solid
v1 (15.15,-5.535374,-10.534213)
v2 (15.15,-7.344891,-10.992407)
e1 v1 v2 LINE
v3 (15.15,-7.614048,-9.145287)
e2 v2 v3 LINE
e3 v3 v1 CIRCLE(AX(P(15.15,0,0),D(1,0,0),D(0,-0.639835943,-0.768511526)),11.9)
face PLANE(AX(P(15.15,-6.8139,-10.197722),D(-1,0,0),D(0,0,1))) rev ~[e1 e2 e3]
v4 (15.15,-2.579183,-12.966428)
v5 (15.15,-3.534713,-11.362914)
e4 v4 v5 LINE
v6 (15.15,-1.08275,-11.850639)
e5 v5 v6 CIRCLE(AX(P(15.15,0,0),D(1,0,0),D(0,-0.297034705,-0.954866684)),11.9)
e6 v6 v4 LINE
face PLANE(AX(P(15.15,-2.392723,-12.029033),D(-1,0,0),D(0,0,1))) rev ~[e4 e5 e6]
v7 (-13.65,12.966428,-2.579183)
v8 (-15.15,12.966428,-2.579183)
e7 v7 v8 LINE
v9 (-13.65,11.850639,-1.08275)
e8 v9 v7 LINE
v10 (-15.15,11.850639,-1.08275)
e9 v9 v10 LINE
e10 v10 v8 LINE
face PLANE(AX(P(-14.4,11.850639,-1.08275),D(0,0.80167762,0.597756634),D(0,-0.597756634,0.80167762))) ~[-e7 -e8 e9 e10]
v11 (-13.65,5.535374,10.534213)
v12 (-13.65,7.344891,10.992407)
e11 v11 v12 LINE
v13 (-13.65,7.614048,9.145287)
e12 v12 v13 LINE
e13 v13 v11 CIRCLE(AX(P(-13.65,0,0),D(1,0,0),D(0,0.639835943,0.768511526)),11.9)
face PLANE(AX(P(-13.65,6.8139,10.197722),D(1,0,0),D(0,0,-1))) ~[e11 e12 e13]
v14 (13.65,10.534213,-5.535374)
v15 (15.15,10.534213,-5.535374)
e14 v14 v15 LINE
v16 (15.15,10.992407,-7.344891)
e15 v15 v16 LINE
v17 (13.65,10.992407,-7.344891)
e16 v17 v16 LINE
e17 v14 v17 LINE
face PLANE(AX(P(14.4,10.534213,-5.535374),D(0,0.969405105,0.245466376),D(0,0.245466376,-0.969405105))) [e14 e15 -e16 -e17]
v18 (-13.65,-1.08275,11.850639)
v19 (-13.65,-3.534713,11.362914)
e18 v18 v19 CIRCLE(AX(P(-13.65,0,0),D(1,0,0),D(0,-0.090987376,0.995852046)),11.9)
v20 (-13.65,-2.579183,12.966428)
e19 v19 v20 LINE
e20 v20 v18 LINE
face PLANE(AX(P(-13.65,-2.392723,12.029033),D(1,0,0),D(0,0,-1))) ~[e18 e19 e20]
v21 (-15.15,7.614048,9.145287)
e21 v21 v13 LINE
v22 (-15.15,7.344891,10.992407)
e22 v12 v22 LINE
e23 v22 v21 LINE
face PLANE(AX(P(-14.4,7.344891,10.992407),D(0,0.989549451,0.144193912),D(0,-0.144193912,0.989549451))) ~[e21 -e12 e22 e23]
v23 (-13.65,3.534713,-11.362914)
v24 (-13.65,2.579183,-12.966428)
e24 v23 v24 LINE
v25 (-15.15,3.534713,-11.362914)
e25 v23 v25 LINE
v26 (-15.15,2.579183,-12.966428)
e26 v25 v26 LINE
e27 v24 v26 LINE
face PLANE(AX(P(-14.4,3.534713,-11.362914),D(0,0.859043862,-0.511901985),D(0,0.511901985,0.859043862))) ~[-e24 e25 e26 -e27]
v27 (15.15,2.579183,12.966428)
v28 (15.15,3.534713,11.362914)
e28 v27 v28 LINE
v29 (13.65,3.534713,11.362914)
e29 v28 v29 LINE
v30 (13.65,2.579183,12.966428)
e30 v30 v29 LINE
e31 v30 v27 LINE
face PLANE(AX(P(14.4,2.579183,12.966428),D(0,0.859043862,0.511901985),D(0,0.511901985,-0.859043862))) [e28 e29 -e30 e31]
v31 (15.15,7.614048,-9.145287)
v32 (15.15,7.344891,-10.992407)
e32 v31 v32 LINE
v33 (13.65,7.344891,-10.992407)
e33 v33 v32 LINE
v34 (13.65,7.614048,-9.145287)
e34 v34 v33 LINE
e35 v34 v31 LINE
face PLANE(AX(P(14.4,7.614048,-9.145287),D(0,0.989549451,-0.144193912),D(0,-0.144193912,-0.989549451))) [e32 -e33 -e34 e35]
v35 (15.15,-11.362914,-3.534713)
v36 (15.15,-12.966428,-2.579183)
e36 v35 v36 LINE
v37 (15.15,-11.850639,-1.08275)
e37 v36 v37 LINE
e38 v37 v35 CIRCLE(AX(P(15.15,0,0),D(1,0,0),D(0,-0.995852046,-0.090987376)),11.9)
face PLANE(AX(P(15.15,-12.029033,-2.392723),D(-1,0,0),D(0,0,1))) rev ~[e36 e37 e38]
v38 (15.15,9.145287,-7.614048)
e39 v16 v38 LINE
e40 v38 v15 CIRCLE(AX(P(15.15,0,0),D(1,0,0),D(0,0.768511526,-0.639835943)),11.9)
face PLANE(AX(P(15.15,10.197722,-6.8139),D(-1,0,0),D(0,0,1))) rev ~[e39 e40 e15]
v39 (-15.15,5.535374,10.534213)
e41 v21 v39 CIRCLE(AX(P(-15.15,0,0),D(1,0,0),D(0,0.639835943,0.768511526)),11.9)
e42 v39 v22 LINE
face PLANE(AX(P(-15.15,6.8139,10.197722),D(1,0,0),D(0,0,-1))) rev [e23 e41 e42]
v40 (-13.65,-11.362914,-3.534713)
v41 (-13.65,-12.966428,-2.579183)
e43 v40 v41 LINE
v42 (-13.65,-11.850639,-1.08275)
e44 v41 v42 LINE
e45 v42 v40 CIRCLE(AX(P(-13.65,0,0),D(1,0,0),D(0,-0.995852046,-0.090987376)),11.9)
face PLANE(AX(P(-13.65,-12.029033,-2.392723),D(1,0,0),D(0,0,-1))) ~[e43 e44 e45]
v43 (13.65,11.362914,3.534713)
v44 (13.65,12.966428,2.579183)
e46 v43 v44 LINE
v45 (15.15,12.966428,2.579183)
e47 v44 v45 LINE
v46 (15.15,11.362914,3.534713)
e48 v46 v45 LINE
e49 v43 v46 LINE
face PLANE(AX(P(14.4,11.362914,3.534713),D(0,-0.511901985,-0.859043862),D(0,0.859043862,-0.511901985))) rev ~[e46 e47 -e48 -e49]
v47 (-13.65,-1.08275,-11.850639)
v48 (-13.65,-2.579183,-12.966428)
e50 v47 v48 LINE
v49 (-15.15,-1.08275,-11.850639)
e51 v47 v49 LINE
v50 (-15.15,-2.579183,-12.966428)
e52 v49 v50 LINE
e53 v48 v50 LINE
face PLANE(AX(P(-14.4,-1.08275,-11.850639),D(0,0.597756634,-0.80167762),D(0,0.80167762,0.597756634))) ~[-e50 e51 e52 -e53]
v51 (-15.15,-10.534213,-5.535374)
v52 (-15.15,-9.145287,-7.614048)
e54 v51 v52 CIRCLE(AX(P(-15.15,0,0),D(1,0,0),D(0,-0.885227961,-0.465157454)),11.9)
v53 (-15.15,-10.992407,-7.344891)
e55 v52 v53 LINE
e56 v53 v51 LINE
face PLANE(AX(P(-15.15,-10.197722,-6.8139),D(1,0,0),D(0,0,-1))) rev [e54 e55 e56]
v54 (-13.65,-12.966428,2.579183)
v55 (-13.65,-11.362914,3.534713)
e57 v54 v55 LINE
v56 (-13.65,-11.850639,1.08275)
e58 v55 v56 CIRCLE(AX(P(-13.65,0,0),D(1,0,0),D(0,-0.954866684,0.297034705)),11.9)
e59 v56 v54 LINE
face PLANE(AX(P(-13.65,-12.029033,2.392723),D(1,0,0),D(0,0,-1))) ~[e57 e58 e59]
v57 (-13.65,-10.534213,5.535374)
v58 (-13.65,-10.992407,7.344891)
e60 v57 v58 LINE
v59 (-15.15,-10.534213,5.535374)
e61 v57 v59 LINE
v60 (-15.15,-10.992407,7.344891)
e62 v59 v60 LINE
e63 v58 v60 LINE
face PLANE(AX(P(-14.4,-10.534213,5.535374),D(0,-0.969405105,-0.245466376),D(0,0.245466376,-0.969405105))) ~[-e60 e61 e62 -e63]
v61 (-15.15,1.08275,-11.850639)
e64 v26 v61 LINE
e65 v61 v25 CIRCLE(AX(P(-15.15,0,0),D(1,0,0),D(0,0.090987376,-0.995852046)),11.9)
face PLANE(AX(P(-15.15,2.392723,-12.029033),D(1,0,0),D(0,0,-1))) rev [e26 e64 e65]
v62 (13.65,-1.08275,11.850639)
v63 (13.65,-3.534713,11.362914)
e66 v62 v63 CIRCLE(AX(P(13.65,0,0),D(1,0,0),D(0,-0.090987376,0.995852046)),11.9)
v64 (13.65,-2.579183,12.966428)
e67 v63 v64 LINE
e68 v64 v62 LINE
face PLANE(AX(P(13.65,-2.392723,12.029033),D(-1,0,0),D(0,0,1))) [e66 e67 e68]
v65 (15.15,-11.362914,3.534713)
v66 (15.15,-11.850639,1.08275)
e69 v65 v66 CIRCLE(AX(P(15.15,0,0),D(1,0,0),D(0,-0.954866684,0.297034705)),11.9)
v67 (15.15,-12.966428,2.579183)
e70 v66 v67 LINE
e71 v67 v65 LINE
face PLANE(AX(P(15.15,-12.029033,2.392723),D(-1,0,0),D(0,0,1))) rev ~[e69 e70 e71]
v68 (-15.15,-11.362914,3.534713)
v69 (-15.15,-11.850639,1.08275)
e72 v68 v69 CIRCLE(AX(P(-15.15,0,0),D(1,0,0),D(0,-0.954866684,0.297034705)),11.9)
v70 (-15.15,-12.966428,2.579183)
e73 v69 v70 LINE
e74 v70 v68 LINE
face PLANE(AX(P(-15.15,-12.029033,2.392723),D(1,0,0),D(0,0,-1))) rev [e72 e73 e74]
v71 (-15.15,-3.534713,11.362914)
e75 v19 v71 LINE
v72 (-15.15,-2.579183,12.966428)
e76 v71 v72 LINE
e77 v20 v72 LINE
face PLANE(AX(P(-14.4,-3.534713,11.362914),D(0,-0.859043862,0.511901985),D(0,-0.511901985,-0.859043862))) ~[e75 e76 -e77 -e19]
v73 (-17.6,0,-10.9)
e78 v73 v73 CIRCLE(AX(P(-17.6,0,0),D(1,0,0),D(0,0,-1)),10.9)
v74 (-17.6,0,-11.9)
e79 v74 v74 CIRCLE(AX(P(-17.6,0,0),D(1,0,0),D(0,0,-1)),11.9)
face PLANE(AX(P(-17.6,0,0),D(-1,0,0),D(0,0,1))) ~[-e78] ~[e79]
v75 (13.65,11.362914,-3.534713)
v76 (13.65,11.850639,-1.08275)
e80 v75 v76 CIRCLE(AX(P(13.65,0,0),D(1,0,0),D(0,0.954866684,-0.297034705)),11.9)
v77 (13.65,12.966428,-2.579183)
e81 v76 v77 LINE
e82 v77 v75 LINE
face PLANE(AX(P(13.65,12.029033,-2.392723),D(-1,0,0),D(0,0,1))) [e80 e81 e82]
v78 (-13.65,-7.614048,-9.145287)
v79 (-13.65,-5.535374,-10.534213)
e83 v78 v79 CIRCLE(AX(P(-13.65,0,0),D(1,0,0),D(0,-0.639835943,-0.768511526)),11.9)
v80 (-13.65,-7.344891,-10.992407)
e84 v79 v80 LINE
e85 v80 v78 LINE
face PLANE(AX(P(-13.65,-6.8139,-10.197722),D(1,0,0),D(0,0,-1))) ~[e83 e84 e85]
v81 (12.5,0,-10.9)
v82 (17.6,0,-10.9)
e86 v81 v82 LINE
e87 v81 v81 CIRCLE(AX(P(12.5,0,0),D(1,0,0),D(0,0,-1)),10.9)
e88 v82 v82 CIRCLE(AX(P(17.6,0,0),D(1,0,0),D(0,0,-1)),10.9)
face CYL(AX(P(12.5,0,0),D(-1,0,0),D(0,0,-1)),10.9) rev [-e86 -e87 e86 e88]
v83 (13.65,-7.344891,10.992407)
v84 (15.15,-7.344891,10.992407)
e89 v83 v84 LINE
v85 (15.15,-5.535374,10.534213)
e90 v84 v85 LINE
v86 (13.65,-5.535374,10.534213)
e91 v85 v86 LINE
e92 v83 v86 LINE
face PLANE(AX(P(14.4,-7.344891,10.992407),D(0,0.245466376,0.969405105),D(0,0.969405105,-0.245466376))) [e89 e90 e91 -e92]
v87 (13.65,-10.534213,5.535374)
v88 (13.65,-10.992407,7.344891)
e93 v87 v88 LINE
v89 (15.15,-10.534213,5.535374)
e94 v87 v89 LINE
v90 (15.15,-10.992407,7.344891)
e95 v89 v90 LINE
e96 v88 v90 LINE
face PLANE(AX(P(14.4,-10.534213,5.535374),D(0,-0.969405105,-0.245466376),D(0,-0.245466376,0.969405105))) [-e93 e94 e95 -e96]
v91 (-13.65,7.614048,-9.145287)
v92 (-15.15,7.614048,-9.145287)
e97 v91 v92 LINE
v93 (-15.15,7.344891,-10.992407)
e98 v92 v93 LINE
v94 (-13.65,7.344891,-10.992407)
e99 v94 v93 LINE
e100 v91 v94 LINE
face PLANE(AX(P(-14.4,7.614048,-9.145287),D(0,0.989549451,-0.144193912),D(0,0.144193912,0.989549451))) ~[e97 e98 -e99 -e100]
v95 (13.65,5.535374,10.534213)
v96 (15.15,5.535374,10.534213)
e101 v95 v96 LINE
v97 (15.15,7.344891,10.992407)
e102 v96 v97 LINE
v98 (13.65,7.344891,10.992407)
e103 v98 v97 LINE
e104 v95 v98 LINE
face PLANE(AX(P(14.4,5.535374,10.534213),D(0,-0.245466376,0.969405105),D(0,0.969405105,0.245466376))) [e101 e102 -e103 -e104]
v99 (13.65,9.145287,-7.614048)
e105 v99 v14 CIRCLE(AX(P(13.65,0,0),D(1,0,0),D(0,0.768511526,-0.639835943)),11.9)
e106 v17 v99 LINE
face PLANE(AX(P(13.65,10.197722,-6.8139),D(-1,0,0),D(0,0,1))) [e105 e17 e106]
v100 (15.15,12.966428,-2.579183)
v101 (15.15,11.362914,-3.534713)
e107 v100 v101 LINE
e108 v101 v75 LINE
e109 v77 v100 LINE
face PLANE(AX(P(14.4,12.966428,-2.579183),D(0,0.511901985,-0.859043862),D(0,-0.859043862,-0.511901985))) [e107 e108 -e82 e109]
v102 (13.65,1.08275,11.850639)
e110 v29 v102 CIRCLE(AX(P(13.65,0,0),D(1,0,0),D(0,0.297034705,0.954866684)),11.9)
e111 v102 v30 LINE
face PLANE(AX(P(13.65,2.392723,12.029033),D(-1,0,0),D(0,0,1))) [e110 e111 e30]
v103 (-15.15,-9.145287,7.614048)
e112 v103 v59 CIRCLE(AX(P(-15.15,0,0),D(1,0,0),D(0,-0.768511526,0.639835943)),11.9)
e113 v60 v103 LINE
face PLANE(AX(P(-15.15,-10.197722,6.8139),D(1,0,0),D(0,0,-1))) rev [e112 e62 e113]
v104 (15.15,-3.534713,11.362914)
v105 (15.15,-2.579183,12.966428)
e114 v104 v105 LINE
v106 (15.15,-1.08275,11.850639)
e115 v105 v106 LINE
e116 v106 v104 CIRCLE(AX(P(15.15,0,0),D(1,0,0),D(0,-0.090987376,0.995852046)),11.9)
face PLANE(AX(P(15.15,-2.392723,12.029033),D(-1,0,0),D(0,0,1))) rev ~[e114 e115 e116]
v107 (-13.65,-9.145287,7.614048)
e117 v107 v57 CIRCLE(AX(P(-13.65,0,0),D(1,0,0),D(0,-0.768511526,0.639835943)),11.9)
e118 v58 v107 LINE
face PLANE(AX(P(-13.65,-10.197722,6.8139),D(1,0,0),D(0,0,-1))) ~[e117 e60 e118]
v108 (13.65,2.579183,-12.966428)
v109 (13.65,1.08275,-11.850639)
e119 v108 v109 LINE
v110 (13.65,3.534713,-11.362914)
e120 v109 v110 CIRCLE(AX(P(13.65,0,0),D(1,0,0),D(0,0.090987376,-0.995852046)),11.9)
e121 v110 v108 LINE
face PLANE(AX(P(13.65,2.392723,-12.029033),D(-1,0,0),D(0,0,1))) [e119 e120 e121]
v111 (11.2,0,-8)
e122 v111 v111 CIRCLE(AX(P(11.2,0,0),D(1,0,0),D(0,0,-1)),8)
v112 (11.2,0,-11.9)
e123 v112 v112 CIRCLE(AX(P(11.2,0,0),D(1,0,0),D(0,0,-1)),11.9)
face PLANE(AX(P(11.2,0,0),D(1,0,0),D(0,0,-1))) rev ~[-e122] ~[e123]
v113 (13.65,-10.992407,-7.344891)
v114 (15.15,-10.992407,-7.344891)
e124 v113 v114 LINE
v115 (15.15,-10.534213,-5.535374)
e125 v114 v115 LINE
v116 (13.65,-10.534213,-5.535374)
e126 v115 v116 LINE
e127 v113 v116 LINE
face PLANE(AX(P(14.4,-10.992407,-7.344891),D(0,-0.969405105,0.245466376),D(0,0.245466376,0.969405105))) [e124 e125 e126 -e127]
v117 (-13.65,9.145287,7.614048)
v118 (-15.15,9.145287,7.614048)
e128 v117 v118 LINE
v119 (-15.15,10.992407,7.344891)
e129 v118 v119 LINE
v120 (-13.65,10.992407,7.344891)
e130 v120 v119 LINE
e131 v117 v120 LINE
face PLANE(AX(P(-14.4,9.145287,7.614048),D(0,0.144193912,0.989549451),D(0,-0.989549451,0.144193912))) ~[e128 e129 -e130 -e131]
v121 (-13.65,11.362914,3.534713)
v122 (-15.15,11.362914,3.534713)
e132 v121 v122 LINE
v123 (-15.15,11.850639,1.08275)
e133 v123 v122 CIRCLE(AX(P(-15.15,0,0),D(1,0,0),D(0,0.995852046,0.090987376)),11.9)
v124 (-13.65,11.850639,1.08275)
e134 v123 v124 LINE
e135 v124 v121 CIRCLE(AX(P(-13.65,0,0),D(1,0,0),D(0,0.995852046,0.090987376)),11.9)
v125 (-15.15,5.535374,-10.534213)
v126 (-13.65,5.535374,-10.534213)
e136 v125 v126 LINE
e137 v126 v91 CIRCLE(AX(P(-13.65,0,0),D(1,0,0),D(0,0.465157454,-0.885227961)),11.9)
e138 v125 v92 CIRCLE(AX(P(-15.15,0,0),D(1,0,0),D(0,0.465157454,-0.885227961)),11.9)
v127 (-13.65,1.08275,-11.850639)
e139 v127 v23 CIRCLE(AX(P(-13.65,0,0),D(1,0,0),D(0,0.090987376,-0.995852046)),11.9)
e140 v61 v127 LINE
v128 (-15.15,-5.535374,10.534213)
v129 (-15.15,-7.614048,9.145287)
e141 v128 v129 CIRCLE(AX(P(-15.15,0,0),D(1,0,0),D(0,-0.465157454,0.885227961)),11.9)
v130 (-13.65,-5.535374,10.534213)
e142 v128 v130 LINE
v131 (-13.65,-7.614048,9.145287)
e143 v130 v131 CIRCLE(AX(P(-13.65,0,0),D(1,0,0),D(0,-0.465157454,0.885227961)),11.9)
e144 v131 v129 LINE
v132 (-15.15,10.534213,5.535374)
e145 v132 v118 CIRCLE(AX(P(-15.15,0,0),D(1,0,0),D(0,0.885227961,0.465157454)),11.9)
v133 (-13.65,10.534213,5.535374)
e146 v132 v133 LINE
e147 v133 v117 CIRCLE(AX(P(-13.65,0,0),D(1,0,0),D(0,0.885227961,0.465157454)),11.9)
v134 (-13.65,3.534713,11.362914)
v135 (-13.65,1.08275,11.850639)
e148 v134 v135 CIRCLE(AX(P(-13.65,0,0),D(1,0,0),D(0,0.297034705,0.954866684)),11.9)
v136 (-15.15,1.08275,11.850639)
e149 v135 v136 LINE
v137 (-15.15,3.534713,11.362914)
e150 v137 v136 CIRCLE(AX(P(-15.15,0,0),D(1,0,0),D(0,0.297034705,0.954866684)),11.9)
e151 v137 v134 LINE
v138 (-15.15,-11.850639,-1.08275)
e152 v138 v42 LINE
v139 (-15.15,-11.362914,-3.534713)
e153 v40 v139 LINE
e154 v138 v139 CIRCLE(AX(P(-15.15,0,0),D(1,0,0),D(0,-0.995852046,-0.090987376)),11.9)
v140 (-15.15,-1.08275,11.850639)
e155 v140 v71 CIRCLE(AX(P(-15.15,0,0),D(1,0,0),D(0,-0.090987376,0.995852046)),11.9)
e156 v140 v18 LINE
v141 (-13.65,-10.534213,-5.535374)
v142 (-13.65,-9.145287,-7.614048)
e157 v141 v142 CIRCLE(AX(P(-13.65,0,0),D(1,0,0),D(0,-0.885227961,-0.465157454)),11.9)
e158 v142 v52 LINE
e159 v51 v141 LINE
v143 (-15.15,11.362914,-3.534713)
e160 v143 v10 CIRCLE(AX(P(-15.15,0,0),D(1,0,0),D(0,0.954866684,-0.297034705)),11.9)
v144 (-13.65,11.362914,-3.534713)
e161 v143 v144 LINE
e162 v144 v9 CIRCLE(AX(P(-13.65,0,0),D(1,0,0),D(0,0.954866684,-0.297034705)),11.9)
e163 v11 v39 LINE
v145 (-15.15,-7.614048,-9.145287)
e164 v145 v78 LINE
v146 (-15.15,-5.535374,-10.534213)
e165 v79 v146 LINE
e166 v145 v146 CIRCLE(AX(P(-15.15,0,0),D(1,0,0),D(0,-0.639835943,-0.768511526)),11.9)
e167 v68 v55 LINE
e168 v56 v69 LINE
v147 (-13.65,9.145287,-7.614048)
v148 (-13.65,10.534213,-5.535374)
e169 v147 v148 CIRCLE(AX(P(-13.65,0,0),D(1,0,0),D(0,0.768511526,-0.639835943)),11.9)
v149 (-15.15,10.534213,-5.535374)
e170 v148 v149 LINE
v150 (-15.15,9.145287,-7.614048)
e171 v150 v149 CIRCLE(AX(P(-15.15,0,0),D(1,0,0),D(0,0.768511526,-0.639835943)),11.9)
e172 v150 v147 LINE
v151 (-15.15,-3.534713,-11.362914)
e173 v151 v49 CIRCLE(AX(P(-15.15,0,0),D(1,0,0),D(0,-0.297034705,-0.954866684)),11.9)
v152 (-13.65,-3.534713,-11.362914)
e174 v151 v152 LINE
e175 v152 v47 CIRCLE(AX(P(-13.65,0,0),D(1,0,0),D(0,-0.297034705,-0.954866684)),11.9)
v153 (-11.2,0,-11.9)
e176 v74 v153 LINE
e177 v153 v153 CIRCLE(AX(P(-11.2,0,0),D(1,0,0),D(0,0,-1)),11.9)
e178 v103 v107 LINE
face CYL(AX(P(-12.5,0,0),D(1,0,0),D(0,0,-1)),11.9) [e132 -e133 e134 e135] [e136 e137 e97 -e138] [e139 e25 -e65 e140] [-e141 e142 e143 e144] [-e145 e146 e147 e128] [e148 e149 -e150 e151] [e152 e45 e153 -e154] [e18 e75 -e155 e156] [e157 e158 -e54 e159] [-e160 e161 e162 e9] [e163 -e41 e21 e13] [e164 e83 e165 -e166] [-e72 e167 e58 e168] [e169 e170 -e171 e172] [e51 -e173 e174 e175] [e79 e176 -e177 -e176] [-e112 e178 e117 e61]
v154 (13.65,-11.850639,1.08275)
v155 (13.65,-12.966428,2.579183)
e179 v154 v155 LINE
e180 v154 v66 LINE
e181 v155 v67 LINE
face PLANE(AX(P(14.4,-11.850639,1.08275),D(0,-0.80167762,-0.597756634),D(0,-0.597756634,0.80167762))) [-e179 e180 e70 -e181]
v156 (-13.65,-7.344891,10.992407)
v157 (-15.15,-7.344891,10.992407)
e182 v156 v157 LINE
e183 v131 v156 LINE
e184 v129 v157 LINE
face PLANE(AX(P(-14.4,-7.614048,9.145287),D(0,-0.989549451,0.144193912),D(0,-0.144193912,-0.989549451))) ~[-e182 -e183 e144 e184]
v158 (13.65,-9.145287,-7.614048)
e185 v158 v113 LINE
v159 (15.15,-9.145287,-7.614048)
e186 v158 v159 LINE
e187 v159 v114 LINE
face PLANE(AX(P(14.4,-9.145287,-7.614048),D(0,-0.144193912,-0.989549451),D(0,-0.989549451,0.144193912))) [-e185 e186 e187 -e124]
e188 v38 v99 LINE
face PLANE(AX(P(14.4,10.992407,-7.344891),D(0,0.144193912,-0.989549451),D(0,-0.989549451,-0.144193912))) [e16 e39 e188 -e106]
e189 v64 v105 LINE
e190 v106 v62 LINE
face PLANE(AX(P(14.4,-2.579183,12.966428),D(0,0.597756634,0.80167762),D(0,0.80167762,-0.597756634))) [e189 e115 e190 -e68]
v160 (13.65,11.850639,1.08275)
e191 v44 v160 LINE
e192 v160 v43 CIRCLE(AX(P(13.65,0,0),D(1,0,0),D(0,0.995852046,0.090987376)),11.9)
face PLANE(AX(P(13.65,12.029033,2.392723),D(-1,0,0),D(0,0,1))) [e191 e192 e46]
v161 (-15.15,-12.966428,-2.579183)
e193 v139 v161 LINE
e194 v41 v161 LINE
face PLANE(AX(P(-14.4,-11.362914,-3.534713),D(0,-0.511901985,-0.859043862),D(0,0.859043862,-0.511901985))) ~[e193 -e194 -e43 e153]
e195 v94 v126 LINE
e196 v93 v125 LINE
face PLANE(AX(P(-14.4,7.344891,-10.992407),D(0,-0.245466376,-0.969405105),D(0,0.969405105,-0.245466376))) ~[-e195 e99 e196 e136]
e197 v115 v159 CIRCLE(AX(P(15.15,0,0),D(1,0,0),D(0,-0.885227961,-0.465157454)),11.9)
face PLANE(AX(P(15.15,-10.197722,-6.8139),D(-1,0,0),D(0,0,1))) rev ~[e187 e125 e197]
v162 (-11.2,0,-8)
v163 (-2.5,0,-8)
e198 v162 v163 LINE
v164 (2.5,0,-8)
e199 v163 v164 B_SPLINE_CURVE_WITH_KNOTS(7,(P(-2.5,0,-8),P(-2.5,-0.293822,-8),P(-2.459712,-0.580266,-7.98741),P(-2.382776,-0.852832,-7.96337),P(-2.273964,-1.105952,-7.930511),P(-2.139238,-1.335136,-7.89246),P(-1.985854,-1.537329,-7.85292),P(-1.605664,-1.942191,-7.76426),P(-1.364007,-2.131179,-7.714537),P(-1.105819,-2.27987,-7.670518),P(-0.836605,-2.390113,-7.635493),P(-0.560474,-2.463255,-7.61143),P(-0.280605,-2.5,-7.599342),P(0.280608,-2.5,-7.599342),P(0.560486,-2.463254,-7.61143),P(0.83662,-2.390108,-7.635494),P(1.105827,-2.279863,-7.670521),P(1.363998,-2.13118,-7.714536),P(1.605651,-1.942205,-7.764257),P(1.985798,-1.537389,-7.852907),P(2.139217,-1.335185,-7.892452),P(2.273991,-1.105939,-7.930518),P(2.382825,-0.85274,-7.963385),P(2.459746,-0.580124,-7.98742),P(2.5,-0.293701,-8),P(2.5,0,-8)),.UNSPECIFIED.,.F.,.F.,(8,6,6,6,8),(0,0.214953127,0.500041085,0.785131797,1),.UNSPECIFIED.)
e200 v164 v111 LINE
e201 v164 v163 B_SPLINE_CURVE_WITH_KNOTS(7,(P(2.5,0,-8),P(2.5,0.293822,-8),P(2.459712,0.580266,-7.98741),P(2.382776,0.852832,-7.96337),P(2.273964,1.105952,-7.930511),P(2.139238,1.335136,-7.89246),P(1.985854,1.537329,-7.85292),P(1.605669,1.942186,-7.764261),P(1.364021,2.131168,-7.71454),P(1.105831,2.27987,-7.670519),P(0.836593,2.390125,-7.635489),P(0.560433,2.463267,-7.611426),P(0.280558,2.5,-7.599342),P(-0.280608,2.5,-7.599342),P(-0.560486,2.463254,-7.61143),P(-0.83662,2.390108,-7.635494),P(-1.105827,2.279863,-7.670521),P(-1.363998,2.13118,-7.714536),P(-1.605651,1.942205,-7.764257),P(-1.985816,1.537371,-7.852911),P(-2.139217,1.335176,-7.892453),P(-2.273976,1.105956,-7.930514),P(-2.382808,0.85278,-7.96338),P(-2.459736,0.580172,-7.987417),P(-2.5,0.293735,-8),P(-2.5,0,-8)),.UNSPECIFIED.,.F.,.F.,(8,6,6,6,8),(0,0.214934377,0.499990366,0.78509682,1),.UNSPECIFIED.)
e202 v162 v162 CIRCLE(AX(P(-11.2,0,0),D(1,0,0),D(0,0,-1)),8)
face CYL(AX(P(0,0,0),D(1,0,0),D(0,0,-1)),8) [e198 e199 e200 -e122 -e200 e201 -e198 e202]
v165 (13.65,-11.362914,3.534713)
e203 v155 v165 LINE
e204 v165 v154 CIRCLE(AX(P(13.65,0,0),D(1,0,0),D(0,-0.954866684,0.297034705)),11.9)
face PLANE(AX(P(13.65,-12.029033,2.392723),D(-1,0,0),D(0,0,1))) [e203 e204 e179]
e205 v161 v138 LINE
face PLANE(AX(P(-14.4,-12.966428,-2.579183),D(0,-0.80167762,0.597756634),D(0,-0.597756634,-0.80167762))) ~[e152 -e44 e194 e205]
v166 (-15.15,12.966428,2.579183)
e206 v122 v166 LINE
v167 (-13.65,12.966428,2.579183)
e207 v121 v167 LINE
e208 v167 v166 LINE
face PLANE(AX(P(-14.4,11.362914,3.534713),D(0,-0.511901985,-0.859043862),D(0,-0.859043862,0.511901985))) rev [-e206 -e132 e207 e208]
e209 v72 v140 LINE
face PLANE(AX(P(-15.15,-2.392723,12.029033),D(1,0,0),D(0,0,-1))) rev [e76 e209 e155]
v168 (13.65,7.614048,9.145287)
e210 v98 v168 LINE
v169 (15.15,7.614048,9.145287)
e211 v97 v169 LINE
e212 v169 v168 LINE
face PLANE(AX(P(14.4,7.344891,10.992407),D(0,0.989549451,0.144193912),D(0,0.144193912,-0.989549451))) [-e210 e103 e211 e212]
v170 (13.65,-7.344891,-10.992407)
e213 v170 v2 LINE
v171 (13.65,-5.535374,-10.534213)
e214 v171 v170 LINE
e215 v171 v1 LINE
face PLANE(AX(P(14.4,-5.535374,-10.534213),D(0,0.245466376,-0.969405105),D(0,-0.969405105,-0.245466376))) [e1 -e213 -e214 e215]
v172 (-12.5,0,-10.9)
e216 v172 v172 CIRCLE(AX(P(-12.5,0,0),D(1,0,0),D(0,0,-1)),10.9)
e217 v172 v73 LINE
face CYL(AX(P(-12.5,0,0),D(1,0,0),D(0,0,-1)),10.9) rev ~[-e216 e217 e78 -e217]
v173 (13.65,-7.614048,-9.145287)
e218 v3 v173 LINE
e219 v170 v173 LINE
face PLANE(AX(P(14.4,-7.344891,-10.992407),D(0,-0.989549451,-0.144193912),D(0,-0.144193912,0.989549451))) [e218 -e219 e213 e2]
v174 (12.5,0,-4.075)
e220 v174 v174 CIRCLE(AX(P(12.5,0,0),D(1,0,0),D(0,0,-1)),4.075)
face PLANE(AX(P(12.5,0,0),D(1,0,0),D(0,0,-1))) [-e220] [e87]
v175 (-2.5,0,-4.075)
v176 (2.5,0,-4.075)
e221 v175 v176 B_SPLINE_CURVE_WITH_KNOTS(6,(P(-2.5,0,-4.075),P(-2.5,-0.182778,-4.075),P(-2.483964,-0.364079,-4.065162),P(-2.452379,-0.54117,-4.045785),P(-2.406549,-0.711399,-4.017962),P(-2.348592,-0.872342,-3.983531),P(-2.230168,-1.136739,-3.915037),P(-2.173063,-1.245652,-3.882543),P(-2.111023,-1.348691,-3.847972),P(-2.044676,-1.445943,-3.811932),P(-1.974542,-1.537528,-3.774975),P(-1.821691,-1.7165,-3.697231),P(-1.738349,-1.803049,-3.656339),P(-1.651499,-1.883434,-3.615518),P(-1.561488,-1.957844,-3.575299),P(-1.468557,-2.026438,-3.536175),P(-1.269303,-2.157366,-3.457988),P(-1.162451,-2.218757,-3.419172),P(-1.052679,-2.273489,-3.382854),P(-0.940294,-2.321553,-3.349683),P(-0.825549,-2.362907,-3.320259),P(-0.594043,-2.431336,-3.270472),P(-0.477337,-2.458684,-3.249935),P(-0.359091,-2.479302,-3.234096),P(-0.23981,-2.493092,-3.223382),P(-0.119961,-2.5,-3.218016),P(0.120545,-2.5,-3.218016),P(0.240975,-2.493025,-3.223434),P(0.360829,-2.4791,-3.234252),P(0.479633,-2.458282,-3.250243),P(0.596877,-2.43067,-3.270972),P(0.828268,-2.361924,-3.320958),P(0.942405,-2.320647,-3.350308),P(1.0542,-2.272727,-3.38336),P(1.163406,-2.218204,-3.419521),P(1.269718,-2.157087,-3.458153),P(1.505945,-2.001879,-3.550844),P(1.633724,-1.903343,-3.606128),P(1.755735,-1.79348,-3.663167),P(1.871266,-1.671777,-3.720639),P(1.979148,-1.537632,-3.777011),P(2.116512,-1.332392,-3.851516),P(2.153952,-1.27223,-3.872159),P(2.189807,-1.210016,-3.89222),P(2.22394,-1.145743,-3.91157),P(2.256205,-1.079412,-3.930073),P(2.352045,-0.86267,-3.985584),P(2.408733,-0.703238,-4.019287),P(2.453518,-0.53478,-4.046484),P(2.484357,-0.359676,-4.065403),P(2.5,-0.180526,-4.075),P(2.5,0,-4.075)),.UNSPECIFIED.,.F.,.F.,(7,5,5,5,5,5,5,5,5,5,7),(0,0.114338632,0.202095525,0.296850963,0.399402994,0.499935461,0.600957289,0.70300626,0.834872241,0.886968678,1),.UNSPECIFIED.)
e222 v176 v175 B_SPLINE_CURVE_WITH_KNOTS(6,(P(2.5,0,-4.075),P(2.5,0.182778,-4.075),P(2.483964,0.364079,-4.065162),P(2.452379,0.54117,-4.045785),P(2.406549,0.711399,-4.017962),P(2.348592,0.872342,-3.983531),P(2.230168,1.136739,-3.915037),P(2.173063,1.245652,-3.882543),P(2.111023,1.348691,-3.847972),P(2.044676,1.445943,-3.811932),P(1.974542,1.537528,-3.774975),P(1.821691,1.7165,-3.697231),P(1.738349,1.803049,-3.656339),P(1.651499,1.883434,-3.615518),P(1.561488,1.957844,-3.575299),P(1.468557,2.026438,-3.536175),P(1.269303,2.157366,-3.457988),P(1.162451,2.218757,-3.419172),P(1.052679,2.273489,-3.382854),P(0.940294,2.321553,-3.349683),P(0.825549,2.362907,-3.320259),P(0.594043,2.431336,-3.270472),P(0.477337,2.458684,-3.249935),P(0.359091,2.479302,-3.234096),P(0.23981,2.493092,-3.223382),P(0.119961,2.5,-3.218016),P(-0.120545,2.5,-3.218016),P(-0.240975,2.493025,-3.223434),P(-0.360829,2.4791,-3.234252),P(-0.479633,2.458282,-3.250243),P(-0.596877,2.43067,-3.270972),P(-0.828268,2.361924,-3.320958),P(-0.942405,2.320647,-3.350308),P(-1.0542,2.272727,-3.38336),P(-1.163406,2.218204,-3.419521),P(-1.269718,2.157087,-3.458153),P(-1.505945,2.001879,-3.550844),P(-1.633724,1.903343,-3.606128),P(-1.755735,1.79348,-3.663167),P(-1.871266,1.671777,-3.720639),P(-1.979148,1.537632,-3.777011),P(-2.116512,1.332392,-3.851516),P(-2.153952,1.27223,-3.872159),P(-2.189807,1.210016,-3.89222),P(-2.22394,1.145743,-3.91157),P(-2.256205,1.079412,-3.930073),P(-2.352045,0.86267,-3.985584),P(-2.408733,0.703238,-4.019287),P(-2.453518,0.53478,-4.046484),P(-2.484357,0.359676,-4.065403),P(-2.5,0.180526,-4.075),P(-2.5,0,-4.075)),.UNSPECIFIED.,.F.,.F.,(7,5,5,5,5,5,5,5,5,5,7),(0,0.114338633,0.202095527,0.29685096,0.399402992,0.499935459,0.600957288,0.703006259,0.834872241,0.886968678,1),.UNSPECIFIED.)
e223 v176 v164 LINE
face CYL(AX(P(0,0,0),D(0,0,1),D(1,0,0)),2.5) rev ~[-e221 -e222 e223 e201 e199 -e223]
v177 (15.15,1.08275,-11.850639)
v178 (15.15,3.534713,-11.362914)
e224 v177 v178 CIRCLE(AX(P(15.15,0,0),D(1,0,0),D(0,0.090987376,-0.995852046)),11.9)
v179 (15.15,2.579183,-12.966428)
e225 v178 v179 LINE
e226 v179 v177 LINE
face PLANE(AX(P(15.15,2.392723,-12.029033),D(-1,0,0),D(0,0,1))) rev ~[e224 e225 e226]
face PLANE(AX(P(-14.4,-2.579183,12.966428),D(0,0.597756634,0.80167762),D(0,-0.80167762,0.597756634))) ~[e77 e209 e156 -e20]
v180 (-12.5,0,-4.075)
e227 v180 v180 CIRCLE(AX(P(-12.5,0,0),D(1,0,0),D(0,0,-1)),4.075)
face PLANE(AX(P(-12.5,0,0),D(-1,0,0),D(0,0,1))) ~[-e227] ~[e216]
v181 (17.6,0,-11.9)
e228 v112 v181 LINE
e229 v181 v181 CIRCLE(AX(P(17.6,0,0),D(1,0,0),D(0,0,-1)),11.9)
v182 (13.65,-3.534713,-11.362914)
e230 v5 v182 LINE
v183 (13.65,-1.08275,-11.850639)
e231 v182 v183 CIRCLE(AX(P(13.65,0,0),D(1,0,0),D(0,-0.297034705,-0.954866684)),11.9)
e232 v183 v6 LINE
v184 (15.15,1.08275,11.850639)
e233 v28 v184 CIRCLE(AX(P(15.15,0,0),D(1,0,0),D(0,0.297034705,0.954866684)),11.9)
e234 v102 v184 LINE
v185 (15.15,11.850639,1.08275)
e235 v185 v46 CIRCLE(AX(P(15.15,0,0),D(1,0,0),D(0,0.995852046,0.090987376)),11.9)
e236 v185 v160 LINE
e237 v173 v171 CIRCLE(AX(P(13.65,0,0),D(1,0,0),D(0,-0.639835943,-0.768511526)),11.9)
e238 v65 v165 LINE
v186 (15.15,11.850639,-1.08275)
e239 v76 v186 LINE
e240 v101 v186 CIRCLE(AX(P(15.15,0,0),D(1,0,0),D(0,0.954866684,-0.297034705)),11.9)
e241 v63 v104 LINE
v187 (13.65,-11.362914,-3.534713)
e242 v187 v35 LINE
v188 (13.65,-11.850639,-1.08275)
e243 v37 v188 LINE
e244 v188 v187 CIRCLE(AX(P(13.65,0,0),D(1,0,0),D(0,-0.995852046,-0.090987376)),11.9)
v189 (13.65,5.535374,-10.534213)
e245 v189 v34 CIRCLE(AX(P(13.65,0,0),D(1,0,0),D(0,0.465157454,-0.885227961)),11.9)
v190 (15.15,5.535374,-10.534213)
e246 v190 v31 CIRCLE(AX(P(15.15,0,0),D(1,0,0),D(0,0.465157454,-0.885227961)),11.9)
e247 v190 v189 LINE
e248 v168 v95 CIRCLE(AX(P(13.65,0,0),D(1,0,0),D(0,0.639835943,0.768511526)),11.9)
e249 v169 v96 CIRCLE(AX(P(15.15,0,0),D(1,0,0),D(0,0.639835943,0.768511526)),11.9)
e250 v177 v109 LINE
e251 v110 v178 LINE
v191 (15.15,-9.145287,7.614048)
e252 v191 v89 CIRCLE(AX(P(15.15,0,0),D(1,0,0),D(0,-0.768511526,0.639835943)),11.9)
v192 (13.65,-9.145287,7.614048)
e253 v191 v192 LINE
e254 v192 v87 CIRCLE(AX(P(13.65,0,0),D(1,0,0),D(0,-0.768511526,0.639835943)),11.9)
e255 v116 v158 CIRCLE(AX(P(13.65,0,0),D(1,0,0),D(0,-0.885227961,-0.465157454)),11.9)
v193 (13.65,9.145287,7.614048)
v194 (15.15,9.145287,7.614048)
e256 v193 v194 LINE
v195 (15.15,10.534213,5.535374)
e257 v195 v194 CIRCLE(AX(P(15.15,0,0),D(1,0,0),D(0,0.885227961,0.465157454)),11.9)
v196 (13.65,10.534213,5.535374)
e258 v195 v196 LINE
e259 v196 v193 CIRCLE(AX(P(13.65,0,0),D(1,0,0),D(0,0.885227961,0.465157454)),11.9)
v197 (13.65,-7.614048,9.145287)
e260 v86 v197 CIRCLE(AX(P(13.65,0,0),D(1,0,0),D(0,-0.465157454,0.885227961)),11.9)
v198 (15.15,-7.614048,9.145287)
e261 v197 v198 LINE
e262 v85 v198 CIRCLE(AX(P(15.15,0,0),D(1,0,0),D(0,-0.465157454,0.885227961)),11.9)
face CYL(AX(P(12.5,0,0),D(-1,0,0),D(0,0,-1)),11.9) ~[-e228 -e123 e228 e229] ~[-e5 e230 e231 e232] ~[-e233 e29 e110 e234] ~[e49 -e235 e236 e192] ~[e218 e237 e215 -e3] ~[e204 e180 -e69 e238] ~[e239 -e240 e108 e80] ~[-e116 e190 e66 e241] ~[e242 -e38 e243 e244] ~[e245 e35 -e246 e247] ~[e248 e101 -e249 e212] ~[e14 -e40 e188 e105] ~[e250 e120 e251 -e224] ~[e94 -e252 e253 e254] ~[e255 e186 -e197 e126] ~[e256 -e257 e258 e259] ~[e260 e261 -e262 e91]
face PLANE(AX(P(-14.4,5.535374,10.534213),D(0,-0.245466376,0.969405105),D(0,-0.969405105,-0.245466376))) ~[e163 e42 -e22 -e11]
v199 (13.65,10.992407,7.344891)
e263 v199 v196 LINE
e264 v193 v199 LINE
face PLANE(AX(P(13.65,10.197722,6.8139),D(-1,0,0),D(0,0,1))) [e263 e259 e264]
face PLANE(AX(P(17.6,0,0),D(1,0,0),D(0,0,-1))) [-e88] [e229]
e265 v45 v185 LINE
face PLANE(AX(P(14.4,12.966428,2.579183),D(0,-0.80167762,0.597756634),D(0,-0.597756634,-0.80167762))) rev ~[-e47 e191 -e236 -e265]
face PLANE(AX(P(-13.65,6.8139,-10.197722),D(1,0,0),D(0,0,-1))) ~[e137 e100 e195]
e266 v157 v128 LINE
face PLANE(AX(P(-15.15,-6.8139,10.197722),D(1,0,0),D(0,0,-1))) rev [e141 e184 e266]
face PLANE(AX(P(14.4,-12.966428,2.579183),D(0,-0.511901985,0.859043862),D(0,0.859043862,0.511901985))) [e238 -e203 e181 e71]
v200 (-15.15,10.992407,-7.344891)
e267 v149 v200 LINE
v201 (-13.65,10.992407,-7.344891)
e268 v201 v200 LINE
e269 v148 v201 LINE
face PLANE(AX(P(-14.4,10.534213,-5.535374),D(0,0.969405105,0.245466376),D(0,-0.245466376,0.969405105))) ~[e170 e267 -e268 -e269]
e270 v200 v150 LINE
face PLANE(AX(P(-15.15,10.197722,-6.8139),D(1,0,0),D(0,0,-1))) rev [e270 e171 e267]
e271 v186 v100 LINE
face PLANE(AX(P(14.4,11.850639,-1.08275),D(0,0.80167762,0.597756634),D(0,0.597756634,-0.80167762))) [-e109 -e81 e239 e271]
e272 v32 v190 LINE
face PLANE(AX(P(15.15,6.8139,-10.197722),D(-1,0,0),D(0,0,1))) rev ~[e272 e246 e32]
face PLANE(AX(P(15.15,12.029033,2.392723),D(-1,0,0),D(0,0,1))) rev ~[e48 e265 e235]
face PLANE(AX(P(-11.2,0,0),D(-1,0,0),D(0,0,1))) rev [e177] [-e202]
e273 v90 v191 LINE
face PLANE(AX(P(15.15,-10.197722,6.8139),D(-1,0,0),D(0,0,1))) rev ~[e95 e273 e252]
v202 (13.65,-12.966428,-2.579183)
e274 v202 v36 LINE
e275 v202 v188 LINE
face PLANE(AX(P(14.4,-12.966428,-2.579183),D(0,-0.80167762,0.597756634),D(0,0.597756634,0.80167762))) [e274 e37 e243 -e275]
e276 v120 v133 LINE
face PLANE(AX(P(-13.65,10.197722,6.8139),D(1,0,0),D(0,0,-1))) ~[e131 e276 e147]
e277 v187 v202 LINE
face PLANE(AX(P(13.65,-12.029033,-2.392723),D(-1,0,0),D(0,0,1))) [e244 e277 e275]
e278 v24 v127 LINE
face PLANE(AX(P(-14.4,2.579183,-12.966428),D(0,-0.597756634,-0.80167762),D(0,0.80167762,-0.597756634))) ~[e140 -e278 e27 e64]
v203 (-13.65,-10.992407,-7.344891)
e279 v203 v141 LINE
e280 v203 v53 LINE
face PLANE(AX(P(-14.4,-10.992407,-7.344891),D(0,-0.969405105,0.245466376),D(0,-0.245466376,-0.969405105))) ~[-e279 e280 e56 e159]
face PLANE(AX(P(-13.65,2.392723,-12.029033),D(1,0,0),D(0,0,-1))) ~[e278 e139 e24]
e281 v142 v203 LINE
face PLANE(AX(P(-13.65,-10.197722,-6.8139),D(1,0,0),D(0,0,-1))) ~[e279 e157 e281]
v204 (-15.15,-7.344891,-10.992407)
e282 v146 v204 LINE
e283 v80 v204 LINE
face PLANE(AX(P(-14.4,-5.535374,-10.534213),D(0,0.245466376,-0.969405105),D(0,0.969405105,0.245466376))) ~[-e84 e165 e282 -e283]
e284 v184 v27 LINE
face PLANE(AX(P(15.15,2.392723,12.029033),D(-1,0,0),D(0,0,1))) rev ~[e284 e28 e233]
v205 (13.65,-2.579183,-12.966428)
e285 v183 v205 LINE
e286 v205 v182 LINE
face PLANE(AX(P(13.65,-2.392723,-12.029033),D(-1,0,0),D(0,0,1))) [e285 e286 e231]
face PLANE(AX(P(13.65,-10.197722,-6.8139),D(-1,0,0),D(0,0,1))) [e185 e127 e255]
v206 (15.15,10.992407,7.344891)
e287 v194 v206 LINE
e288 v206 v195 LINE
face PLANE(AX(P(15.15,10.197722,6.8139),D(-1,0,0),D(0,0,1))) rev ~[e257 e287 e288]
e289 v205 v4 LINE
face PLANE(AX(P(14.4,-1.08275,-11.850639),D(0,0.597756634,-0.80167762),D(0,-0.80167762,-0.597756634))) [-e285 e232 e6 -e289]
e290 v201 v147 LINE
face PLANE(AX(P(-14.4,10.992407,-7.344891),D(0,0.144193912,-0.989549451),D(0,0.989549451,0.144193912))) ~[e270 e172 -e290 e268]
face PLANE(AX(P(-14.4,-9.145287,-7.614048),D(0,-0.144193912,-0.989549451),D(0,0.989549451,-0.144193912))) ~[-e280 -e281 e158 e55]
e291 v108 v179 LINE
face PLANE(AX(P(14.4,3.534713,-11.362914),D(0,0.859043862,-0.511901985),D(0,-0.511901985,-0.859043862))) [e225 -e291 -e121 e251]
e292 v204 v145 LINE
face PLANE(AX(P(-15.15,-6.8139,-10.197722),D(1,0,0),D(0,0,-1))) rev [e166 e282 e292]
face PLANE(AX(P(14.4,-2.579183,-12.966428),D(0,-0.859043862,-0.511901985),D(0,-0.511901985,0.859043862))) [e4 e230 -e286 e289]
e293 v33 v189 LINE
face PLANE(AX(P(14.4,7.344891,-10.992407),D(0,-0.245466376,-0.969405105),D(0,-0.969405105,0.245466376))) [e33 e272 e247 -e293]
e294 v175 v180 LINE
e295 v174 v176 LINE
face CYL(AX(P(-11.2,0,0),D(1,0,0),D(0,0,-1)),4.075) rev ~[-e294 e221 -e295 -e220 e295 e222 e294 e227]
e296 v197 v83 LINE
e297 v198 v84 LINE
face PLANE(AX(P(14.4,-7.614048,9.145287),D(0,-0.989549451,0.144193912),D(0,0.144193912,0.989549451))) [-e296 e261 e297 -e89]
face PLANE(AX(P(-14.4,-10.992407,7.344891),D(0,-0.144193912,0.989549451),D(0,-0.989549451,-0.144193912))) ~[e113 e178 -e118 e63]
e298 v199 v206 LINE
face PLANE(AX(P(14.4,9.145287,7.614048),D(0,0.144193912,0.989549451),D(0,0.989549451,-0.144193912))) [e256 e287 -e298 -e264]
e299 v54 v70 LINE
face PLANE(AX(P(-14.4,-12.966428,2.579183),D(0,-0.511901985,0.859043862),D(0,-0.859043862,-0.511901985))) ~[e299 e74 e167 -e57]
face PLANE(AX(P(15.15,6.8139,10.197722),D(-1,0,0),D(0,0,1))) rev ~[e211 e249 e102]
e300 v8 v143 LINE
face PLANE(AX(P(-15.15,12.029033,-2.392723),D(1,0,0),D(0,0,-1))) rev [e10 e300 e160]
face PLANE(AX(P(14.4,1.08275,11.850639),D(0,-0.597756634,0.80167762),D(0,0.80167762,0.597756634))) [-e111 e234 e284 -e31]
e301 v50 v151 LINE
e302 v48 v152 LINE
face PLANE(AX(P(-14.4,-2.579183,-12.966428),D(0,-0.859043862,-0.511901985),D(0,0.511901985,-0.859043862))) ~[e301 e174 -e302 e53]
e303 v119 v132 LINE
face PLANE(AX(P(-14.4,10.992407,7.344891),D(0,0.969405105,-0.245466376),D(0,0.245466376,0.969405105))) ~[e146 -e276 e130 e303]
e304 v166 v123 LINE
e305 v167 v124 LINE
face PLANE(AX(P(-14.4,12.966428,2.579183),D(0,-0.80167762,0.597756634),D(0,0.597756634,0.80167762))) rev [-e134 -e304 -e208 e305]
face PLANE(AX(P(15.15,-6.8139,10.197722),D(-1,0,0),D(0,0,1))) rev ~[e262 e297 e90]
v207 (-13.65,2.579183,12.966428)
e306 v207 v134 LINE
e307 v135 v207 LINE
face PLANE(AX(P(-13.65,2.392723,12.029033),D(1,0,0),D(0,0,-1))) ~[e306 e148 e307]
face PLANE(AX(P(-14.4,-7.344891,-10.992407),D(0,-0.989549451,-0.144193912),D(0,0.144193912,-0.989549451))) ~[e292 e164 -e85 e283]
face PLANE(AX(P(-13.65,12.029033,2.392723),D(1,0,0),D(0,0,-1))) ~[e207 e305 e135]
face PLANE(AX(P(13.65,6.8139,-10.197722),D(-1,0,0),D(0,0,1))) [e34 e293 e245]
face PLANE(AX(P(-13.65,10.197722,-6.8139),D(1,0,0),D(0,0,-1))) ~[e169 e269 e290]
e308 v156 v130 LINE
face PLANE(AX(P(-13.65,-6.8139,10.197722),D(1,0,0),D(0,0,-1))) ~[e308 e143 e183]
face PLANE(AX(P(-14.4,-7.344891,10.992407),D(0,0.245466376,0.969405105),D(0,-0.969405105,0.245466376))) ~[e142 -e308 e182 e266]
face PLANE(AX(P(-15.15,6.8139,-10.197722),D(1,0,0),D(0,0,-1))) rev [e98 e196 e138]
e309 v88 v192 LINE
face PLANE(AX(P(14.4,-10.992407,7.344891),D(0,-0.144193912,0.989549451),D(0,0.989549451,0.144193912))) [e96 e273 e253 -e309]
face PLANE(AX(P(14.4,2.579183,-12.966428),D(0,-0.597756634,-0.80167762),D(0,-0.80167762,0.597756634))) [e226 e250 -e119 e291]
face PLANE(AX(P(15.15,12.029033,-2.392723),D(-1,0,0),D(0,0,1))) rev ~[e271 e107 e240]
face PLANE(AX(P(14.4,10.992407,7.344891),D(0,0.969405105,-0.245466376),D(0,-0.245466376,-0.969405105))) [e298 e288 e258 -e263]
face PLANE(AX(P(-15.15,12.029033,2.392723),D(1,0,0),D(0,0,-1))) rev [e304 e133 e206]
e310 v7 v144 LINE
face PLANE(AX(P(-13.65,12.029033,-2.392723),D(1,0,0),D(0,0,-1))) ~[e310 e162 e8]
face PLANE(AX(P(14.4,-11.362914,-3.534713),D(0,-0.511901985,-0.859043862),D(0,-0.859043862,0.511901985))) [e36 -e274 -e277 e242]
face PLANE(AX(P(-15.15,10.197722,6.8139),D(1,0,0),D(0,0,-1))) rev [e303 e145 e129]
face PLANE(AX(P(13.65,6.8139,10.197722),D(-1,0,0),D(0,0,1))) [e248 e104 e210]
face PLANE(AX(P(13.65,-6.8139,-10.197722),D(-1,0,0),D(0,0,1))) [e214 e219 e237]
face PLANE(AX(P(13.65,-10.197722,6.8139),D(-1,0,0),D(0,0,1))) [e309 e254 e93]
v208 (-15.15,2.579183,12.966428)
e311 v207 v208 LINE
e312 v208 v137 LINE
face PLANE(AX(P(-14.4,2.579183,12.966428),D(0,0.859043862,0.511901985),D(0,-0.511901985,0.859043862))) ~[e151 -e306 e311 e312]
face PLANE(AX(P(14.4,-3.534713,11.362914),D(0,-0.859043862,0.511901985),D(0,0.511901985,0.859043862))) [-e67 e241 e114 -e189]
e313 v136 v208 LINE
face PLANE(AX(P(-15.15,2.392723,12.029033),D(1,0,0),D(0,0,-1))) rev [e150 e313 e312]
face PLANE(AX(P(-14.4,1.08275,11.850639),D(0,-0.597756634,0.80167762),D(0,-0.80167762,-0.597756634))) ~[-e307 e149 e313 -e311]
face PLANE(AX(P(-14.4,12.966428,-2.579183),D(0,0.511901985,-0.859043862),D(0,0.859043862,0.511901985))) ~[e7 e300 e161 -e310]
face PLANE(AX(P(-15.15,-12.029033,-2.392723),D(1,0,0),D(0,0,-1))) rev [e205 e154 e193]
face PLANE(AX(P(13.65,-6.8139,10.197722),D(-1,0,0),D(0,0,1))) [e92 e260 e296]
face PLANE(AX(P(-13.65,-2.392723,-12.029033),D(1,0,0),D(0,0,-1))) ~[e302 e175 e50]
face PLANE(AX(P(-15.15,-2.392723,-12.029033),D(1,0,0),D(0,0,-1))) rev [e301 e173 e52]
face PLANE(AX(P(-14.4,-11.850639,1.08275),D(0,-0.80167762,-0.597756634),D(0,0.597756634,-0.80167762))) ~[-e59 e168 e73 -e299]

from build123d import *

# Parameters (mm, degrees)
CROQUIS1_R              = 8
CROQUIS1_R_2            = 4.075
SALIENTE_EXTRUIR1_DEPTH = 11.2
CROQUIS3_R              = 11.9
CROQUIS3_R_2            = 4.075
SALIENTE_EXTRUIR2_DEPTH = 1.3
CROQUIS4_R              = 11.9
CROQUIS4_R_2            = 10.9
SALIENTE_EXTRUIR3_DEPTH = 5.1
SALIENTE_EXTRUIR4_DEPTH = 0.75
CROQUIS6_R              = 2.5
CORTAR_EXTRUIR1_DEPTH   = 13.966428038


with BuildPart() as part:
    # Croquis1 → Saliente-Extruir1 (new body, symmetric)
    with BuildSketch(Plane(origin=(0, 0, 0), x_dir=(0, 0, -1), z_dir=(1, 0, 0))):
        Circle(CROQUIS1_R)
        Circle(CROQUIS1_R_2, mode=Mode.SUBTRACT)
    extrude(amount=SALIENTE_EXTRUIR1_DEPTH, both=True)

    # Croquis3 → Saliente-Extruir2 (add)
    with BuildSketch(Plane(origin=(11.2, 0, 0), x_dir=(0, 0, -1), z_dir=(1, 0, 0))):
        Circle(CROQUIS3_R)
        Circle(CROQUIS3_R_2, mode=Mode.SUBTRACT)
    saliente_extruir2 = extrude(amount=SALIENTE_EXTRUIR2_DEPTH)

    # Croquis4 → Saliente-Extruir3 (add)
    with BuildSketch(Plane(origin=(12.5, 0, 0), x_dir=(0, 0, -1), z_dir=(1, 0, 0))):
        Circle(CROQUIS4_R)
        Circle(CROQUIS4_R_2, mode=Mode.SUBTRACT)
    saliente_extruir3 = extrude(amount=SALIENTE_EXTRUIR3_DEPTH)

    # Simetría1: Saliente-Extruir2, Saliente-Extruir3 across plane
    add(saliente_extruir2.mirror(Plane(origin=(0, 0, 0), x_dir=(0, 0, 1), z_dir=(1, 0, 0))))
    add(saliente_extruir3.mirror(Plane(origin=(0, 0, 0), x_dir=(0, 0, 1), z_dir=(1, 0, 0))))

    # Croquis5 → Saliente-Extruir4 (add, symmetric)
    with BuildSketch(Plane(origin=(14.4, 0, 0), x_dir=(0, 0, -1), z_dir=(1, 0, 0))):
        with BuildLine():
            Line((2.579182897, 12.966428038), (3.534712981, 11.362913541))
            ThreePointArc((3.534712981, 11.362913541), (2.321574832, 11.671344837), (1.08274978, 11.850639346))
            Line((1.08274978, 11.850639346), (2.579182897, 12.966428038))
        make_face()
        with BuildLine():
            Line((7.344891477, 10.99240691), (7.614047732, 9.145287155))
            ThreePointArc((7.614047732, 9.145287155), (6.611285773, 9.894488386), (5.535373701, 10.534212737))
            Line((5.535373701, 10.534212737), (7.344891477, 10.99240691))
        make_face()
        with BuildLine():
            Line((10.99240691, 7.344891477), (10.534212737, 5.535373701))
            ThreePointArc((10.534212737, 5.535373701), (9.894488386, 6.611285773), (9.145287155, 7.614047732))
            Line((9.145287155, 7.614047732), (10.99240691, 7.344891477))
        make_face()
        with BuildLine():
            Line((12.966428038, 2.579182897), (11.850639346, 1.08274978))
            ThreePointArc((11.850639346, 1.08274978), (11.671344837, 2.321574832), (11.362913541, 3.534712981))
            Line((11.362913541, 3.534712981), (12.966428038, 2.579182897))
        make_face()
        with BuildLine():
            Line((12.966428038, -2.579182897), (11.362913541, -3.534712981))
            ThreePointArc((11.362913541, -3.534712981), (11.671344837, -2.321574832), (11.850639346, -1.08274978))
            Line((11.850639346, -1.08274978), (12.966428038, -2.579182897))
        make_face()
        with BuildLine():
            Line((10.99240691, -7.344891477), (9.145287155, -7.614047732))
            ThreePointArc((9.145287155, -7.614047732), (9.894488386, -6.611285773), (10.534212737, -5.535373701))
            Line((10.534212737, -5.535373701), (10.99240691, -7.344891477))
        make_face()
        with BuildLine():
            Line((7.344891477, -10.99240691), (5.535373701, -10.534212737))
            ThreePointArc((5.535373701, -10.534212737), (6.611285773, -9.894488386), (7.614047732, -9.145287155))
            Line((7.614047732, -9.145287155), (7.344891477, -10.99240691))
        make_face()
        with BuildLine():
            Line((2.579182897, -12.966428038), (1.08274978, -11.850639346))
            ThreePointArc((1.08274978, -11.850639346), (2.321574832, -11.671344837), (3.534712981, -11.362913541))
            Line((3.534712981, -11.362913541), (2.579182897, -12.966428038))
        make_face()
        with BuildLine():
            Line((-2.579182897, -12.966428038), (-3.534712981, -11.362913541))
            ThreePointArc((-3.534712981, -11.362913541), (-2.321574832, -11.671344837), (-1.08274978, -11.850639346))
            Line((-1.08274978, -11.850639346), (-2.579182897, -12.966428038))
        make_face()
        with BuildLine():
            Line((-7.344891477, -10.99240691), (-7.614047732, -9.145287155))
            ThreePointArc((-7.614047732, -9.145287155), (-6.611285773, -9.894488386), (-5.535373701, -10.534212737))
            Line((-5.535373701, -10.534212737), (-7.344891477, -10.99240691))
        make_face()
        with BuildLine():
            Line((-10.99240691, -7.344891477), (-10.534212737, -5.535373701))
            ThreePointArc((-10.534212737, -5.535373701), (-9.894488386, -6.611285773), (-9.145287155, -7.614047732))
            Line((-9.145287155, -7.614047732), (-10.99240691, -7.344891477))
        make_face()
        with BuildLine():
            Line((-12.966428038, -2.579182897), (-11.850639346, -1.08274978))
            ThreePointArc((-11.850639346, -1.08274978), (-11.671344837, -2.321574832), (-11.362913541, -3.534712981))
            Line((-11.362913541, -3.534712981), (-12.966428038, -2.579182897))
        make_face()
        with BuildLine():
            Line((-12.966428038, 2.579182897), (-11.362913541, 3.534712981))
            ThreePointArc((-11.362913541, 3.534712981), (-11.671344837, 2.321574832), (-11.850639346, 1.08274978))
            Line((-11.850639346, 1.08274978), (-12.966428038, 2.579182897))
        make_face()
        with BuildLine():
            Line((-10.99240691, 7.344891477), (-9.145287155, 7.614047732))
            ThreePointArc((-9.145287155, 7.614047732), (-9.894488386, 6.611285773), (-10.534212737, 5.535373701))
            Line((-10.534212737, 5.535373701), (-10.99240691, 7.344891477))
        make_face()
        with BuildLine():
            Line((-7.344891477, 10.99240691), (-5.535373701, 10.534212737))
            ThreePointArc((-5.535373701, 10.534212737), (-6.611285773, 9.894488386), (-7.614047732, 9.145287155))
            Line((-7.614047732, 9.145287155), (-7.344891477, 10.99240691))
        make_face()
        with BuildLine():
            Line((-2.579182897, 12.966428038), (-1.08274978, 11.850639346))
            ThreePointArc((-1.08274978, 11.850639346), (-2.321574832, 11.671344837), (-3.534712981, 11.362913541))
            Line((-3.534712981, 11.362913541), (-2.579182897, 12.966428038))
        make_face()
    saliente_extruir4 = extrude(amount=SALIENTE_EXTRUIR4_DEPTH, both=True)

    # Simetría2: Saliente-Extruir4 across plane
    add(saliente_extruir4.mirror(Plane(origin=(0, 0, 0), x_dir=(0, 0, 1), z_dir=(1, 0, 0))))

    # Croquis6 → Cortar-Extruir1 (cut, through all)
    with BuildSketch(Plane.XY):
        Circle(CROQUIS6_R)
    extrude(amount=-CORTAR_EXTRUIR1_DEPTH, mode=Mode.SUBTRACT)


solid = part.part
